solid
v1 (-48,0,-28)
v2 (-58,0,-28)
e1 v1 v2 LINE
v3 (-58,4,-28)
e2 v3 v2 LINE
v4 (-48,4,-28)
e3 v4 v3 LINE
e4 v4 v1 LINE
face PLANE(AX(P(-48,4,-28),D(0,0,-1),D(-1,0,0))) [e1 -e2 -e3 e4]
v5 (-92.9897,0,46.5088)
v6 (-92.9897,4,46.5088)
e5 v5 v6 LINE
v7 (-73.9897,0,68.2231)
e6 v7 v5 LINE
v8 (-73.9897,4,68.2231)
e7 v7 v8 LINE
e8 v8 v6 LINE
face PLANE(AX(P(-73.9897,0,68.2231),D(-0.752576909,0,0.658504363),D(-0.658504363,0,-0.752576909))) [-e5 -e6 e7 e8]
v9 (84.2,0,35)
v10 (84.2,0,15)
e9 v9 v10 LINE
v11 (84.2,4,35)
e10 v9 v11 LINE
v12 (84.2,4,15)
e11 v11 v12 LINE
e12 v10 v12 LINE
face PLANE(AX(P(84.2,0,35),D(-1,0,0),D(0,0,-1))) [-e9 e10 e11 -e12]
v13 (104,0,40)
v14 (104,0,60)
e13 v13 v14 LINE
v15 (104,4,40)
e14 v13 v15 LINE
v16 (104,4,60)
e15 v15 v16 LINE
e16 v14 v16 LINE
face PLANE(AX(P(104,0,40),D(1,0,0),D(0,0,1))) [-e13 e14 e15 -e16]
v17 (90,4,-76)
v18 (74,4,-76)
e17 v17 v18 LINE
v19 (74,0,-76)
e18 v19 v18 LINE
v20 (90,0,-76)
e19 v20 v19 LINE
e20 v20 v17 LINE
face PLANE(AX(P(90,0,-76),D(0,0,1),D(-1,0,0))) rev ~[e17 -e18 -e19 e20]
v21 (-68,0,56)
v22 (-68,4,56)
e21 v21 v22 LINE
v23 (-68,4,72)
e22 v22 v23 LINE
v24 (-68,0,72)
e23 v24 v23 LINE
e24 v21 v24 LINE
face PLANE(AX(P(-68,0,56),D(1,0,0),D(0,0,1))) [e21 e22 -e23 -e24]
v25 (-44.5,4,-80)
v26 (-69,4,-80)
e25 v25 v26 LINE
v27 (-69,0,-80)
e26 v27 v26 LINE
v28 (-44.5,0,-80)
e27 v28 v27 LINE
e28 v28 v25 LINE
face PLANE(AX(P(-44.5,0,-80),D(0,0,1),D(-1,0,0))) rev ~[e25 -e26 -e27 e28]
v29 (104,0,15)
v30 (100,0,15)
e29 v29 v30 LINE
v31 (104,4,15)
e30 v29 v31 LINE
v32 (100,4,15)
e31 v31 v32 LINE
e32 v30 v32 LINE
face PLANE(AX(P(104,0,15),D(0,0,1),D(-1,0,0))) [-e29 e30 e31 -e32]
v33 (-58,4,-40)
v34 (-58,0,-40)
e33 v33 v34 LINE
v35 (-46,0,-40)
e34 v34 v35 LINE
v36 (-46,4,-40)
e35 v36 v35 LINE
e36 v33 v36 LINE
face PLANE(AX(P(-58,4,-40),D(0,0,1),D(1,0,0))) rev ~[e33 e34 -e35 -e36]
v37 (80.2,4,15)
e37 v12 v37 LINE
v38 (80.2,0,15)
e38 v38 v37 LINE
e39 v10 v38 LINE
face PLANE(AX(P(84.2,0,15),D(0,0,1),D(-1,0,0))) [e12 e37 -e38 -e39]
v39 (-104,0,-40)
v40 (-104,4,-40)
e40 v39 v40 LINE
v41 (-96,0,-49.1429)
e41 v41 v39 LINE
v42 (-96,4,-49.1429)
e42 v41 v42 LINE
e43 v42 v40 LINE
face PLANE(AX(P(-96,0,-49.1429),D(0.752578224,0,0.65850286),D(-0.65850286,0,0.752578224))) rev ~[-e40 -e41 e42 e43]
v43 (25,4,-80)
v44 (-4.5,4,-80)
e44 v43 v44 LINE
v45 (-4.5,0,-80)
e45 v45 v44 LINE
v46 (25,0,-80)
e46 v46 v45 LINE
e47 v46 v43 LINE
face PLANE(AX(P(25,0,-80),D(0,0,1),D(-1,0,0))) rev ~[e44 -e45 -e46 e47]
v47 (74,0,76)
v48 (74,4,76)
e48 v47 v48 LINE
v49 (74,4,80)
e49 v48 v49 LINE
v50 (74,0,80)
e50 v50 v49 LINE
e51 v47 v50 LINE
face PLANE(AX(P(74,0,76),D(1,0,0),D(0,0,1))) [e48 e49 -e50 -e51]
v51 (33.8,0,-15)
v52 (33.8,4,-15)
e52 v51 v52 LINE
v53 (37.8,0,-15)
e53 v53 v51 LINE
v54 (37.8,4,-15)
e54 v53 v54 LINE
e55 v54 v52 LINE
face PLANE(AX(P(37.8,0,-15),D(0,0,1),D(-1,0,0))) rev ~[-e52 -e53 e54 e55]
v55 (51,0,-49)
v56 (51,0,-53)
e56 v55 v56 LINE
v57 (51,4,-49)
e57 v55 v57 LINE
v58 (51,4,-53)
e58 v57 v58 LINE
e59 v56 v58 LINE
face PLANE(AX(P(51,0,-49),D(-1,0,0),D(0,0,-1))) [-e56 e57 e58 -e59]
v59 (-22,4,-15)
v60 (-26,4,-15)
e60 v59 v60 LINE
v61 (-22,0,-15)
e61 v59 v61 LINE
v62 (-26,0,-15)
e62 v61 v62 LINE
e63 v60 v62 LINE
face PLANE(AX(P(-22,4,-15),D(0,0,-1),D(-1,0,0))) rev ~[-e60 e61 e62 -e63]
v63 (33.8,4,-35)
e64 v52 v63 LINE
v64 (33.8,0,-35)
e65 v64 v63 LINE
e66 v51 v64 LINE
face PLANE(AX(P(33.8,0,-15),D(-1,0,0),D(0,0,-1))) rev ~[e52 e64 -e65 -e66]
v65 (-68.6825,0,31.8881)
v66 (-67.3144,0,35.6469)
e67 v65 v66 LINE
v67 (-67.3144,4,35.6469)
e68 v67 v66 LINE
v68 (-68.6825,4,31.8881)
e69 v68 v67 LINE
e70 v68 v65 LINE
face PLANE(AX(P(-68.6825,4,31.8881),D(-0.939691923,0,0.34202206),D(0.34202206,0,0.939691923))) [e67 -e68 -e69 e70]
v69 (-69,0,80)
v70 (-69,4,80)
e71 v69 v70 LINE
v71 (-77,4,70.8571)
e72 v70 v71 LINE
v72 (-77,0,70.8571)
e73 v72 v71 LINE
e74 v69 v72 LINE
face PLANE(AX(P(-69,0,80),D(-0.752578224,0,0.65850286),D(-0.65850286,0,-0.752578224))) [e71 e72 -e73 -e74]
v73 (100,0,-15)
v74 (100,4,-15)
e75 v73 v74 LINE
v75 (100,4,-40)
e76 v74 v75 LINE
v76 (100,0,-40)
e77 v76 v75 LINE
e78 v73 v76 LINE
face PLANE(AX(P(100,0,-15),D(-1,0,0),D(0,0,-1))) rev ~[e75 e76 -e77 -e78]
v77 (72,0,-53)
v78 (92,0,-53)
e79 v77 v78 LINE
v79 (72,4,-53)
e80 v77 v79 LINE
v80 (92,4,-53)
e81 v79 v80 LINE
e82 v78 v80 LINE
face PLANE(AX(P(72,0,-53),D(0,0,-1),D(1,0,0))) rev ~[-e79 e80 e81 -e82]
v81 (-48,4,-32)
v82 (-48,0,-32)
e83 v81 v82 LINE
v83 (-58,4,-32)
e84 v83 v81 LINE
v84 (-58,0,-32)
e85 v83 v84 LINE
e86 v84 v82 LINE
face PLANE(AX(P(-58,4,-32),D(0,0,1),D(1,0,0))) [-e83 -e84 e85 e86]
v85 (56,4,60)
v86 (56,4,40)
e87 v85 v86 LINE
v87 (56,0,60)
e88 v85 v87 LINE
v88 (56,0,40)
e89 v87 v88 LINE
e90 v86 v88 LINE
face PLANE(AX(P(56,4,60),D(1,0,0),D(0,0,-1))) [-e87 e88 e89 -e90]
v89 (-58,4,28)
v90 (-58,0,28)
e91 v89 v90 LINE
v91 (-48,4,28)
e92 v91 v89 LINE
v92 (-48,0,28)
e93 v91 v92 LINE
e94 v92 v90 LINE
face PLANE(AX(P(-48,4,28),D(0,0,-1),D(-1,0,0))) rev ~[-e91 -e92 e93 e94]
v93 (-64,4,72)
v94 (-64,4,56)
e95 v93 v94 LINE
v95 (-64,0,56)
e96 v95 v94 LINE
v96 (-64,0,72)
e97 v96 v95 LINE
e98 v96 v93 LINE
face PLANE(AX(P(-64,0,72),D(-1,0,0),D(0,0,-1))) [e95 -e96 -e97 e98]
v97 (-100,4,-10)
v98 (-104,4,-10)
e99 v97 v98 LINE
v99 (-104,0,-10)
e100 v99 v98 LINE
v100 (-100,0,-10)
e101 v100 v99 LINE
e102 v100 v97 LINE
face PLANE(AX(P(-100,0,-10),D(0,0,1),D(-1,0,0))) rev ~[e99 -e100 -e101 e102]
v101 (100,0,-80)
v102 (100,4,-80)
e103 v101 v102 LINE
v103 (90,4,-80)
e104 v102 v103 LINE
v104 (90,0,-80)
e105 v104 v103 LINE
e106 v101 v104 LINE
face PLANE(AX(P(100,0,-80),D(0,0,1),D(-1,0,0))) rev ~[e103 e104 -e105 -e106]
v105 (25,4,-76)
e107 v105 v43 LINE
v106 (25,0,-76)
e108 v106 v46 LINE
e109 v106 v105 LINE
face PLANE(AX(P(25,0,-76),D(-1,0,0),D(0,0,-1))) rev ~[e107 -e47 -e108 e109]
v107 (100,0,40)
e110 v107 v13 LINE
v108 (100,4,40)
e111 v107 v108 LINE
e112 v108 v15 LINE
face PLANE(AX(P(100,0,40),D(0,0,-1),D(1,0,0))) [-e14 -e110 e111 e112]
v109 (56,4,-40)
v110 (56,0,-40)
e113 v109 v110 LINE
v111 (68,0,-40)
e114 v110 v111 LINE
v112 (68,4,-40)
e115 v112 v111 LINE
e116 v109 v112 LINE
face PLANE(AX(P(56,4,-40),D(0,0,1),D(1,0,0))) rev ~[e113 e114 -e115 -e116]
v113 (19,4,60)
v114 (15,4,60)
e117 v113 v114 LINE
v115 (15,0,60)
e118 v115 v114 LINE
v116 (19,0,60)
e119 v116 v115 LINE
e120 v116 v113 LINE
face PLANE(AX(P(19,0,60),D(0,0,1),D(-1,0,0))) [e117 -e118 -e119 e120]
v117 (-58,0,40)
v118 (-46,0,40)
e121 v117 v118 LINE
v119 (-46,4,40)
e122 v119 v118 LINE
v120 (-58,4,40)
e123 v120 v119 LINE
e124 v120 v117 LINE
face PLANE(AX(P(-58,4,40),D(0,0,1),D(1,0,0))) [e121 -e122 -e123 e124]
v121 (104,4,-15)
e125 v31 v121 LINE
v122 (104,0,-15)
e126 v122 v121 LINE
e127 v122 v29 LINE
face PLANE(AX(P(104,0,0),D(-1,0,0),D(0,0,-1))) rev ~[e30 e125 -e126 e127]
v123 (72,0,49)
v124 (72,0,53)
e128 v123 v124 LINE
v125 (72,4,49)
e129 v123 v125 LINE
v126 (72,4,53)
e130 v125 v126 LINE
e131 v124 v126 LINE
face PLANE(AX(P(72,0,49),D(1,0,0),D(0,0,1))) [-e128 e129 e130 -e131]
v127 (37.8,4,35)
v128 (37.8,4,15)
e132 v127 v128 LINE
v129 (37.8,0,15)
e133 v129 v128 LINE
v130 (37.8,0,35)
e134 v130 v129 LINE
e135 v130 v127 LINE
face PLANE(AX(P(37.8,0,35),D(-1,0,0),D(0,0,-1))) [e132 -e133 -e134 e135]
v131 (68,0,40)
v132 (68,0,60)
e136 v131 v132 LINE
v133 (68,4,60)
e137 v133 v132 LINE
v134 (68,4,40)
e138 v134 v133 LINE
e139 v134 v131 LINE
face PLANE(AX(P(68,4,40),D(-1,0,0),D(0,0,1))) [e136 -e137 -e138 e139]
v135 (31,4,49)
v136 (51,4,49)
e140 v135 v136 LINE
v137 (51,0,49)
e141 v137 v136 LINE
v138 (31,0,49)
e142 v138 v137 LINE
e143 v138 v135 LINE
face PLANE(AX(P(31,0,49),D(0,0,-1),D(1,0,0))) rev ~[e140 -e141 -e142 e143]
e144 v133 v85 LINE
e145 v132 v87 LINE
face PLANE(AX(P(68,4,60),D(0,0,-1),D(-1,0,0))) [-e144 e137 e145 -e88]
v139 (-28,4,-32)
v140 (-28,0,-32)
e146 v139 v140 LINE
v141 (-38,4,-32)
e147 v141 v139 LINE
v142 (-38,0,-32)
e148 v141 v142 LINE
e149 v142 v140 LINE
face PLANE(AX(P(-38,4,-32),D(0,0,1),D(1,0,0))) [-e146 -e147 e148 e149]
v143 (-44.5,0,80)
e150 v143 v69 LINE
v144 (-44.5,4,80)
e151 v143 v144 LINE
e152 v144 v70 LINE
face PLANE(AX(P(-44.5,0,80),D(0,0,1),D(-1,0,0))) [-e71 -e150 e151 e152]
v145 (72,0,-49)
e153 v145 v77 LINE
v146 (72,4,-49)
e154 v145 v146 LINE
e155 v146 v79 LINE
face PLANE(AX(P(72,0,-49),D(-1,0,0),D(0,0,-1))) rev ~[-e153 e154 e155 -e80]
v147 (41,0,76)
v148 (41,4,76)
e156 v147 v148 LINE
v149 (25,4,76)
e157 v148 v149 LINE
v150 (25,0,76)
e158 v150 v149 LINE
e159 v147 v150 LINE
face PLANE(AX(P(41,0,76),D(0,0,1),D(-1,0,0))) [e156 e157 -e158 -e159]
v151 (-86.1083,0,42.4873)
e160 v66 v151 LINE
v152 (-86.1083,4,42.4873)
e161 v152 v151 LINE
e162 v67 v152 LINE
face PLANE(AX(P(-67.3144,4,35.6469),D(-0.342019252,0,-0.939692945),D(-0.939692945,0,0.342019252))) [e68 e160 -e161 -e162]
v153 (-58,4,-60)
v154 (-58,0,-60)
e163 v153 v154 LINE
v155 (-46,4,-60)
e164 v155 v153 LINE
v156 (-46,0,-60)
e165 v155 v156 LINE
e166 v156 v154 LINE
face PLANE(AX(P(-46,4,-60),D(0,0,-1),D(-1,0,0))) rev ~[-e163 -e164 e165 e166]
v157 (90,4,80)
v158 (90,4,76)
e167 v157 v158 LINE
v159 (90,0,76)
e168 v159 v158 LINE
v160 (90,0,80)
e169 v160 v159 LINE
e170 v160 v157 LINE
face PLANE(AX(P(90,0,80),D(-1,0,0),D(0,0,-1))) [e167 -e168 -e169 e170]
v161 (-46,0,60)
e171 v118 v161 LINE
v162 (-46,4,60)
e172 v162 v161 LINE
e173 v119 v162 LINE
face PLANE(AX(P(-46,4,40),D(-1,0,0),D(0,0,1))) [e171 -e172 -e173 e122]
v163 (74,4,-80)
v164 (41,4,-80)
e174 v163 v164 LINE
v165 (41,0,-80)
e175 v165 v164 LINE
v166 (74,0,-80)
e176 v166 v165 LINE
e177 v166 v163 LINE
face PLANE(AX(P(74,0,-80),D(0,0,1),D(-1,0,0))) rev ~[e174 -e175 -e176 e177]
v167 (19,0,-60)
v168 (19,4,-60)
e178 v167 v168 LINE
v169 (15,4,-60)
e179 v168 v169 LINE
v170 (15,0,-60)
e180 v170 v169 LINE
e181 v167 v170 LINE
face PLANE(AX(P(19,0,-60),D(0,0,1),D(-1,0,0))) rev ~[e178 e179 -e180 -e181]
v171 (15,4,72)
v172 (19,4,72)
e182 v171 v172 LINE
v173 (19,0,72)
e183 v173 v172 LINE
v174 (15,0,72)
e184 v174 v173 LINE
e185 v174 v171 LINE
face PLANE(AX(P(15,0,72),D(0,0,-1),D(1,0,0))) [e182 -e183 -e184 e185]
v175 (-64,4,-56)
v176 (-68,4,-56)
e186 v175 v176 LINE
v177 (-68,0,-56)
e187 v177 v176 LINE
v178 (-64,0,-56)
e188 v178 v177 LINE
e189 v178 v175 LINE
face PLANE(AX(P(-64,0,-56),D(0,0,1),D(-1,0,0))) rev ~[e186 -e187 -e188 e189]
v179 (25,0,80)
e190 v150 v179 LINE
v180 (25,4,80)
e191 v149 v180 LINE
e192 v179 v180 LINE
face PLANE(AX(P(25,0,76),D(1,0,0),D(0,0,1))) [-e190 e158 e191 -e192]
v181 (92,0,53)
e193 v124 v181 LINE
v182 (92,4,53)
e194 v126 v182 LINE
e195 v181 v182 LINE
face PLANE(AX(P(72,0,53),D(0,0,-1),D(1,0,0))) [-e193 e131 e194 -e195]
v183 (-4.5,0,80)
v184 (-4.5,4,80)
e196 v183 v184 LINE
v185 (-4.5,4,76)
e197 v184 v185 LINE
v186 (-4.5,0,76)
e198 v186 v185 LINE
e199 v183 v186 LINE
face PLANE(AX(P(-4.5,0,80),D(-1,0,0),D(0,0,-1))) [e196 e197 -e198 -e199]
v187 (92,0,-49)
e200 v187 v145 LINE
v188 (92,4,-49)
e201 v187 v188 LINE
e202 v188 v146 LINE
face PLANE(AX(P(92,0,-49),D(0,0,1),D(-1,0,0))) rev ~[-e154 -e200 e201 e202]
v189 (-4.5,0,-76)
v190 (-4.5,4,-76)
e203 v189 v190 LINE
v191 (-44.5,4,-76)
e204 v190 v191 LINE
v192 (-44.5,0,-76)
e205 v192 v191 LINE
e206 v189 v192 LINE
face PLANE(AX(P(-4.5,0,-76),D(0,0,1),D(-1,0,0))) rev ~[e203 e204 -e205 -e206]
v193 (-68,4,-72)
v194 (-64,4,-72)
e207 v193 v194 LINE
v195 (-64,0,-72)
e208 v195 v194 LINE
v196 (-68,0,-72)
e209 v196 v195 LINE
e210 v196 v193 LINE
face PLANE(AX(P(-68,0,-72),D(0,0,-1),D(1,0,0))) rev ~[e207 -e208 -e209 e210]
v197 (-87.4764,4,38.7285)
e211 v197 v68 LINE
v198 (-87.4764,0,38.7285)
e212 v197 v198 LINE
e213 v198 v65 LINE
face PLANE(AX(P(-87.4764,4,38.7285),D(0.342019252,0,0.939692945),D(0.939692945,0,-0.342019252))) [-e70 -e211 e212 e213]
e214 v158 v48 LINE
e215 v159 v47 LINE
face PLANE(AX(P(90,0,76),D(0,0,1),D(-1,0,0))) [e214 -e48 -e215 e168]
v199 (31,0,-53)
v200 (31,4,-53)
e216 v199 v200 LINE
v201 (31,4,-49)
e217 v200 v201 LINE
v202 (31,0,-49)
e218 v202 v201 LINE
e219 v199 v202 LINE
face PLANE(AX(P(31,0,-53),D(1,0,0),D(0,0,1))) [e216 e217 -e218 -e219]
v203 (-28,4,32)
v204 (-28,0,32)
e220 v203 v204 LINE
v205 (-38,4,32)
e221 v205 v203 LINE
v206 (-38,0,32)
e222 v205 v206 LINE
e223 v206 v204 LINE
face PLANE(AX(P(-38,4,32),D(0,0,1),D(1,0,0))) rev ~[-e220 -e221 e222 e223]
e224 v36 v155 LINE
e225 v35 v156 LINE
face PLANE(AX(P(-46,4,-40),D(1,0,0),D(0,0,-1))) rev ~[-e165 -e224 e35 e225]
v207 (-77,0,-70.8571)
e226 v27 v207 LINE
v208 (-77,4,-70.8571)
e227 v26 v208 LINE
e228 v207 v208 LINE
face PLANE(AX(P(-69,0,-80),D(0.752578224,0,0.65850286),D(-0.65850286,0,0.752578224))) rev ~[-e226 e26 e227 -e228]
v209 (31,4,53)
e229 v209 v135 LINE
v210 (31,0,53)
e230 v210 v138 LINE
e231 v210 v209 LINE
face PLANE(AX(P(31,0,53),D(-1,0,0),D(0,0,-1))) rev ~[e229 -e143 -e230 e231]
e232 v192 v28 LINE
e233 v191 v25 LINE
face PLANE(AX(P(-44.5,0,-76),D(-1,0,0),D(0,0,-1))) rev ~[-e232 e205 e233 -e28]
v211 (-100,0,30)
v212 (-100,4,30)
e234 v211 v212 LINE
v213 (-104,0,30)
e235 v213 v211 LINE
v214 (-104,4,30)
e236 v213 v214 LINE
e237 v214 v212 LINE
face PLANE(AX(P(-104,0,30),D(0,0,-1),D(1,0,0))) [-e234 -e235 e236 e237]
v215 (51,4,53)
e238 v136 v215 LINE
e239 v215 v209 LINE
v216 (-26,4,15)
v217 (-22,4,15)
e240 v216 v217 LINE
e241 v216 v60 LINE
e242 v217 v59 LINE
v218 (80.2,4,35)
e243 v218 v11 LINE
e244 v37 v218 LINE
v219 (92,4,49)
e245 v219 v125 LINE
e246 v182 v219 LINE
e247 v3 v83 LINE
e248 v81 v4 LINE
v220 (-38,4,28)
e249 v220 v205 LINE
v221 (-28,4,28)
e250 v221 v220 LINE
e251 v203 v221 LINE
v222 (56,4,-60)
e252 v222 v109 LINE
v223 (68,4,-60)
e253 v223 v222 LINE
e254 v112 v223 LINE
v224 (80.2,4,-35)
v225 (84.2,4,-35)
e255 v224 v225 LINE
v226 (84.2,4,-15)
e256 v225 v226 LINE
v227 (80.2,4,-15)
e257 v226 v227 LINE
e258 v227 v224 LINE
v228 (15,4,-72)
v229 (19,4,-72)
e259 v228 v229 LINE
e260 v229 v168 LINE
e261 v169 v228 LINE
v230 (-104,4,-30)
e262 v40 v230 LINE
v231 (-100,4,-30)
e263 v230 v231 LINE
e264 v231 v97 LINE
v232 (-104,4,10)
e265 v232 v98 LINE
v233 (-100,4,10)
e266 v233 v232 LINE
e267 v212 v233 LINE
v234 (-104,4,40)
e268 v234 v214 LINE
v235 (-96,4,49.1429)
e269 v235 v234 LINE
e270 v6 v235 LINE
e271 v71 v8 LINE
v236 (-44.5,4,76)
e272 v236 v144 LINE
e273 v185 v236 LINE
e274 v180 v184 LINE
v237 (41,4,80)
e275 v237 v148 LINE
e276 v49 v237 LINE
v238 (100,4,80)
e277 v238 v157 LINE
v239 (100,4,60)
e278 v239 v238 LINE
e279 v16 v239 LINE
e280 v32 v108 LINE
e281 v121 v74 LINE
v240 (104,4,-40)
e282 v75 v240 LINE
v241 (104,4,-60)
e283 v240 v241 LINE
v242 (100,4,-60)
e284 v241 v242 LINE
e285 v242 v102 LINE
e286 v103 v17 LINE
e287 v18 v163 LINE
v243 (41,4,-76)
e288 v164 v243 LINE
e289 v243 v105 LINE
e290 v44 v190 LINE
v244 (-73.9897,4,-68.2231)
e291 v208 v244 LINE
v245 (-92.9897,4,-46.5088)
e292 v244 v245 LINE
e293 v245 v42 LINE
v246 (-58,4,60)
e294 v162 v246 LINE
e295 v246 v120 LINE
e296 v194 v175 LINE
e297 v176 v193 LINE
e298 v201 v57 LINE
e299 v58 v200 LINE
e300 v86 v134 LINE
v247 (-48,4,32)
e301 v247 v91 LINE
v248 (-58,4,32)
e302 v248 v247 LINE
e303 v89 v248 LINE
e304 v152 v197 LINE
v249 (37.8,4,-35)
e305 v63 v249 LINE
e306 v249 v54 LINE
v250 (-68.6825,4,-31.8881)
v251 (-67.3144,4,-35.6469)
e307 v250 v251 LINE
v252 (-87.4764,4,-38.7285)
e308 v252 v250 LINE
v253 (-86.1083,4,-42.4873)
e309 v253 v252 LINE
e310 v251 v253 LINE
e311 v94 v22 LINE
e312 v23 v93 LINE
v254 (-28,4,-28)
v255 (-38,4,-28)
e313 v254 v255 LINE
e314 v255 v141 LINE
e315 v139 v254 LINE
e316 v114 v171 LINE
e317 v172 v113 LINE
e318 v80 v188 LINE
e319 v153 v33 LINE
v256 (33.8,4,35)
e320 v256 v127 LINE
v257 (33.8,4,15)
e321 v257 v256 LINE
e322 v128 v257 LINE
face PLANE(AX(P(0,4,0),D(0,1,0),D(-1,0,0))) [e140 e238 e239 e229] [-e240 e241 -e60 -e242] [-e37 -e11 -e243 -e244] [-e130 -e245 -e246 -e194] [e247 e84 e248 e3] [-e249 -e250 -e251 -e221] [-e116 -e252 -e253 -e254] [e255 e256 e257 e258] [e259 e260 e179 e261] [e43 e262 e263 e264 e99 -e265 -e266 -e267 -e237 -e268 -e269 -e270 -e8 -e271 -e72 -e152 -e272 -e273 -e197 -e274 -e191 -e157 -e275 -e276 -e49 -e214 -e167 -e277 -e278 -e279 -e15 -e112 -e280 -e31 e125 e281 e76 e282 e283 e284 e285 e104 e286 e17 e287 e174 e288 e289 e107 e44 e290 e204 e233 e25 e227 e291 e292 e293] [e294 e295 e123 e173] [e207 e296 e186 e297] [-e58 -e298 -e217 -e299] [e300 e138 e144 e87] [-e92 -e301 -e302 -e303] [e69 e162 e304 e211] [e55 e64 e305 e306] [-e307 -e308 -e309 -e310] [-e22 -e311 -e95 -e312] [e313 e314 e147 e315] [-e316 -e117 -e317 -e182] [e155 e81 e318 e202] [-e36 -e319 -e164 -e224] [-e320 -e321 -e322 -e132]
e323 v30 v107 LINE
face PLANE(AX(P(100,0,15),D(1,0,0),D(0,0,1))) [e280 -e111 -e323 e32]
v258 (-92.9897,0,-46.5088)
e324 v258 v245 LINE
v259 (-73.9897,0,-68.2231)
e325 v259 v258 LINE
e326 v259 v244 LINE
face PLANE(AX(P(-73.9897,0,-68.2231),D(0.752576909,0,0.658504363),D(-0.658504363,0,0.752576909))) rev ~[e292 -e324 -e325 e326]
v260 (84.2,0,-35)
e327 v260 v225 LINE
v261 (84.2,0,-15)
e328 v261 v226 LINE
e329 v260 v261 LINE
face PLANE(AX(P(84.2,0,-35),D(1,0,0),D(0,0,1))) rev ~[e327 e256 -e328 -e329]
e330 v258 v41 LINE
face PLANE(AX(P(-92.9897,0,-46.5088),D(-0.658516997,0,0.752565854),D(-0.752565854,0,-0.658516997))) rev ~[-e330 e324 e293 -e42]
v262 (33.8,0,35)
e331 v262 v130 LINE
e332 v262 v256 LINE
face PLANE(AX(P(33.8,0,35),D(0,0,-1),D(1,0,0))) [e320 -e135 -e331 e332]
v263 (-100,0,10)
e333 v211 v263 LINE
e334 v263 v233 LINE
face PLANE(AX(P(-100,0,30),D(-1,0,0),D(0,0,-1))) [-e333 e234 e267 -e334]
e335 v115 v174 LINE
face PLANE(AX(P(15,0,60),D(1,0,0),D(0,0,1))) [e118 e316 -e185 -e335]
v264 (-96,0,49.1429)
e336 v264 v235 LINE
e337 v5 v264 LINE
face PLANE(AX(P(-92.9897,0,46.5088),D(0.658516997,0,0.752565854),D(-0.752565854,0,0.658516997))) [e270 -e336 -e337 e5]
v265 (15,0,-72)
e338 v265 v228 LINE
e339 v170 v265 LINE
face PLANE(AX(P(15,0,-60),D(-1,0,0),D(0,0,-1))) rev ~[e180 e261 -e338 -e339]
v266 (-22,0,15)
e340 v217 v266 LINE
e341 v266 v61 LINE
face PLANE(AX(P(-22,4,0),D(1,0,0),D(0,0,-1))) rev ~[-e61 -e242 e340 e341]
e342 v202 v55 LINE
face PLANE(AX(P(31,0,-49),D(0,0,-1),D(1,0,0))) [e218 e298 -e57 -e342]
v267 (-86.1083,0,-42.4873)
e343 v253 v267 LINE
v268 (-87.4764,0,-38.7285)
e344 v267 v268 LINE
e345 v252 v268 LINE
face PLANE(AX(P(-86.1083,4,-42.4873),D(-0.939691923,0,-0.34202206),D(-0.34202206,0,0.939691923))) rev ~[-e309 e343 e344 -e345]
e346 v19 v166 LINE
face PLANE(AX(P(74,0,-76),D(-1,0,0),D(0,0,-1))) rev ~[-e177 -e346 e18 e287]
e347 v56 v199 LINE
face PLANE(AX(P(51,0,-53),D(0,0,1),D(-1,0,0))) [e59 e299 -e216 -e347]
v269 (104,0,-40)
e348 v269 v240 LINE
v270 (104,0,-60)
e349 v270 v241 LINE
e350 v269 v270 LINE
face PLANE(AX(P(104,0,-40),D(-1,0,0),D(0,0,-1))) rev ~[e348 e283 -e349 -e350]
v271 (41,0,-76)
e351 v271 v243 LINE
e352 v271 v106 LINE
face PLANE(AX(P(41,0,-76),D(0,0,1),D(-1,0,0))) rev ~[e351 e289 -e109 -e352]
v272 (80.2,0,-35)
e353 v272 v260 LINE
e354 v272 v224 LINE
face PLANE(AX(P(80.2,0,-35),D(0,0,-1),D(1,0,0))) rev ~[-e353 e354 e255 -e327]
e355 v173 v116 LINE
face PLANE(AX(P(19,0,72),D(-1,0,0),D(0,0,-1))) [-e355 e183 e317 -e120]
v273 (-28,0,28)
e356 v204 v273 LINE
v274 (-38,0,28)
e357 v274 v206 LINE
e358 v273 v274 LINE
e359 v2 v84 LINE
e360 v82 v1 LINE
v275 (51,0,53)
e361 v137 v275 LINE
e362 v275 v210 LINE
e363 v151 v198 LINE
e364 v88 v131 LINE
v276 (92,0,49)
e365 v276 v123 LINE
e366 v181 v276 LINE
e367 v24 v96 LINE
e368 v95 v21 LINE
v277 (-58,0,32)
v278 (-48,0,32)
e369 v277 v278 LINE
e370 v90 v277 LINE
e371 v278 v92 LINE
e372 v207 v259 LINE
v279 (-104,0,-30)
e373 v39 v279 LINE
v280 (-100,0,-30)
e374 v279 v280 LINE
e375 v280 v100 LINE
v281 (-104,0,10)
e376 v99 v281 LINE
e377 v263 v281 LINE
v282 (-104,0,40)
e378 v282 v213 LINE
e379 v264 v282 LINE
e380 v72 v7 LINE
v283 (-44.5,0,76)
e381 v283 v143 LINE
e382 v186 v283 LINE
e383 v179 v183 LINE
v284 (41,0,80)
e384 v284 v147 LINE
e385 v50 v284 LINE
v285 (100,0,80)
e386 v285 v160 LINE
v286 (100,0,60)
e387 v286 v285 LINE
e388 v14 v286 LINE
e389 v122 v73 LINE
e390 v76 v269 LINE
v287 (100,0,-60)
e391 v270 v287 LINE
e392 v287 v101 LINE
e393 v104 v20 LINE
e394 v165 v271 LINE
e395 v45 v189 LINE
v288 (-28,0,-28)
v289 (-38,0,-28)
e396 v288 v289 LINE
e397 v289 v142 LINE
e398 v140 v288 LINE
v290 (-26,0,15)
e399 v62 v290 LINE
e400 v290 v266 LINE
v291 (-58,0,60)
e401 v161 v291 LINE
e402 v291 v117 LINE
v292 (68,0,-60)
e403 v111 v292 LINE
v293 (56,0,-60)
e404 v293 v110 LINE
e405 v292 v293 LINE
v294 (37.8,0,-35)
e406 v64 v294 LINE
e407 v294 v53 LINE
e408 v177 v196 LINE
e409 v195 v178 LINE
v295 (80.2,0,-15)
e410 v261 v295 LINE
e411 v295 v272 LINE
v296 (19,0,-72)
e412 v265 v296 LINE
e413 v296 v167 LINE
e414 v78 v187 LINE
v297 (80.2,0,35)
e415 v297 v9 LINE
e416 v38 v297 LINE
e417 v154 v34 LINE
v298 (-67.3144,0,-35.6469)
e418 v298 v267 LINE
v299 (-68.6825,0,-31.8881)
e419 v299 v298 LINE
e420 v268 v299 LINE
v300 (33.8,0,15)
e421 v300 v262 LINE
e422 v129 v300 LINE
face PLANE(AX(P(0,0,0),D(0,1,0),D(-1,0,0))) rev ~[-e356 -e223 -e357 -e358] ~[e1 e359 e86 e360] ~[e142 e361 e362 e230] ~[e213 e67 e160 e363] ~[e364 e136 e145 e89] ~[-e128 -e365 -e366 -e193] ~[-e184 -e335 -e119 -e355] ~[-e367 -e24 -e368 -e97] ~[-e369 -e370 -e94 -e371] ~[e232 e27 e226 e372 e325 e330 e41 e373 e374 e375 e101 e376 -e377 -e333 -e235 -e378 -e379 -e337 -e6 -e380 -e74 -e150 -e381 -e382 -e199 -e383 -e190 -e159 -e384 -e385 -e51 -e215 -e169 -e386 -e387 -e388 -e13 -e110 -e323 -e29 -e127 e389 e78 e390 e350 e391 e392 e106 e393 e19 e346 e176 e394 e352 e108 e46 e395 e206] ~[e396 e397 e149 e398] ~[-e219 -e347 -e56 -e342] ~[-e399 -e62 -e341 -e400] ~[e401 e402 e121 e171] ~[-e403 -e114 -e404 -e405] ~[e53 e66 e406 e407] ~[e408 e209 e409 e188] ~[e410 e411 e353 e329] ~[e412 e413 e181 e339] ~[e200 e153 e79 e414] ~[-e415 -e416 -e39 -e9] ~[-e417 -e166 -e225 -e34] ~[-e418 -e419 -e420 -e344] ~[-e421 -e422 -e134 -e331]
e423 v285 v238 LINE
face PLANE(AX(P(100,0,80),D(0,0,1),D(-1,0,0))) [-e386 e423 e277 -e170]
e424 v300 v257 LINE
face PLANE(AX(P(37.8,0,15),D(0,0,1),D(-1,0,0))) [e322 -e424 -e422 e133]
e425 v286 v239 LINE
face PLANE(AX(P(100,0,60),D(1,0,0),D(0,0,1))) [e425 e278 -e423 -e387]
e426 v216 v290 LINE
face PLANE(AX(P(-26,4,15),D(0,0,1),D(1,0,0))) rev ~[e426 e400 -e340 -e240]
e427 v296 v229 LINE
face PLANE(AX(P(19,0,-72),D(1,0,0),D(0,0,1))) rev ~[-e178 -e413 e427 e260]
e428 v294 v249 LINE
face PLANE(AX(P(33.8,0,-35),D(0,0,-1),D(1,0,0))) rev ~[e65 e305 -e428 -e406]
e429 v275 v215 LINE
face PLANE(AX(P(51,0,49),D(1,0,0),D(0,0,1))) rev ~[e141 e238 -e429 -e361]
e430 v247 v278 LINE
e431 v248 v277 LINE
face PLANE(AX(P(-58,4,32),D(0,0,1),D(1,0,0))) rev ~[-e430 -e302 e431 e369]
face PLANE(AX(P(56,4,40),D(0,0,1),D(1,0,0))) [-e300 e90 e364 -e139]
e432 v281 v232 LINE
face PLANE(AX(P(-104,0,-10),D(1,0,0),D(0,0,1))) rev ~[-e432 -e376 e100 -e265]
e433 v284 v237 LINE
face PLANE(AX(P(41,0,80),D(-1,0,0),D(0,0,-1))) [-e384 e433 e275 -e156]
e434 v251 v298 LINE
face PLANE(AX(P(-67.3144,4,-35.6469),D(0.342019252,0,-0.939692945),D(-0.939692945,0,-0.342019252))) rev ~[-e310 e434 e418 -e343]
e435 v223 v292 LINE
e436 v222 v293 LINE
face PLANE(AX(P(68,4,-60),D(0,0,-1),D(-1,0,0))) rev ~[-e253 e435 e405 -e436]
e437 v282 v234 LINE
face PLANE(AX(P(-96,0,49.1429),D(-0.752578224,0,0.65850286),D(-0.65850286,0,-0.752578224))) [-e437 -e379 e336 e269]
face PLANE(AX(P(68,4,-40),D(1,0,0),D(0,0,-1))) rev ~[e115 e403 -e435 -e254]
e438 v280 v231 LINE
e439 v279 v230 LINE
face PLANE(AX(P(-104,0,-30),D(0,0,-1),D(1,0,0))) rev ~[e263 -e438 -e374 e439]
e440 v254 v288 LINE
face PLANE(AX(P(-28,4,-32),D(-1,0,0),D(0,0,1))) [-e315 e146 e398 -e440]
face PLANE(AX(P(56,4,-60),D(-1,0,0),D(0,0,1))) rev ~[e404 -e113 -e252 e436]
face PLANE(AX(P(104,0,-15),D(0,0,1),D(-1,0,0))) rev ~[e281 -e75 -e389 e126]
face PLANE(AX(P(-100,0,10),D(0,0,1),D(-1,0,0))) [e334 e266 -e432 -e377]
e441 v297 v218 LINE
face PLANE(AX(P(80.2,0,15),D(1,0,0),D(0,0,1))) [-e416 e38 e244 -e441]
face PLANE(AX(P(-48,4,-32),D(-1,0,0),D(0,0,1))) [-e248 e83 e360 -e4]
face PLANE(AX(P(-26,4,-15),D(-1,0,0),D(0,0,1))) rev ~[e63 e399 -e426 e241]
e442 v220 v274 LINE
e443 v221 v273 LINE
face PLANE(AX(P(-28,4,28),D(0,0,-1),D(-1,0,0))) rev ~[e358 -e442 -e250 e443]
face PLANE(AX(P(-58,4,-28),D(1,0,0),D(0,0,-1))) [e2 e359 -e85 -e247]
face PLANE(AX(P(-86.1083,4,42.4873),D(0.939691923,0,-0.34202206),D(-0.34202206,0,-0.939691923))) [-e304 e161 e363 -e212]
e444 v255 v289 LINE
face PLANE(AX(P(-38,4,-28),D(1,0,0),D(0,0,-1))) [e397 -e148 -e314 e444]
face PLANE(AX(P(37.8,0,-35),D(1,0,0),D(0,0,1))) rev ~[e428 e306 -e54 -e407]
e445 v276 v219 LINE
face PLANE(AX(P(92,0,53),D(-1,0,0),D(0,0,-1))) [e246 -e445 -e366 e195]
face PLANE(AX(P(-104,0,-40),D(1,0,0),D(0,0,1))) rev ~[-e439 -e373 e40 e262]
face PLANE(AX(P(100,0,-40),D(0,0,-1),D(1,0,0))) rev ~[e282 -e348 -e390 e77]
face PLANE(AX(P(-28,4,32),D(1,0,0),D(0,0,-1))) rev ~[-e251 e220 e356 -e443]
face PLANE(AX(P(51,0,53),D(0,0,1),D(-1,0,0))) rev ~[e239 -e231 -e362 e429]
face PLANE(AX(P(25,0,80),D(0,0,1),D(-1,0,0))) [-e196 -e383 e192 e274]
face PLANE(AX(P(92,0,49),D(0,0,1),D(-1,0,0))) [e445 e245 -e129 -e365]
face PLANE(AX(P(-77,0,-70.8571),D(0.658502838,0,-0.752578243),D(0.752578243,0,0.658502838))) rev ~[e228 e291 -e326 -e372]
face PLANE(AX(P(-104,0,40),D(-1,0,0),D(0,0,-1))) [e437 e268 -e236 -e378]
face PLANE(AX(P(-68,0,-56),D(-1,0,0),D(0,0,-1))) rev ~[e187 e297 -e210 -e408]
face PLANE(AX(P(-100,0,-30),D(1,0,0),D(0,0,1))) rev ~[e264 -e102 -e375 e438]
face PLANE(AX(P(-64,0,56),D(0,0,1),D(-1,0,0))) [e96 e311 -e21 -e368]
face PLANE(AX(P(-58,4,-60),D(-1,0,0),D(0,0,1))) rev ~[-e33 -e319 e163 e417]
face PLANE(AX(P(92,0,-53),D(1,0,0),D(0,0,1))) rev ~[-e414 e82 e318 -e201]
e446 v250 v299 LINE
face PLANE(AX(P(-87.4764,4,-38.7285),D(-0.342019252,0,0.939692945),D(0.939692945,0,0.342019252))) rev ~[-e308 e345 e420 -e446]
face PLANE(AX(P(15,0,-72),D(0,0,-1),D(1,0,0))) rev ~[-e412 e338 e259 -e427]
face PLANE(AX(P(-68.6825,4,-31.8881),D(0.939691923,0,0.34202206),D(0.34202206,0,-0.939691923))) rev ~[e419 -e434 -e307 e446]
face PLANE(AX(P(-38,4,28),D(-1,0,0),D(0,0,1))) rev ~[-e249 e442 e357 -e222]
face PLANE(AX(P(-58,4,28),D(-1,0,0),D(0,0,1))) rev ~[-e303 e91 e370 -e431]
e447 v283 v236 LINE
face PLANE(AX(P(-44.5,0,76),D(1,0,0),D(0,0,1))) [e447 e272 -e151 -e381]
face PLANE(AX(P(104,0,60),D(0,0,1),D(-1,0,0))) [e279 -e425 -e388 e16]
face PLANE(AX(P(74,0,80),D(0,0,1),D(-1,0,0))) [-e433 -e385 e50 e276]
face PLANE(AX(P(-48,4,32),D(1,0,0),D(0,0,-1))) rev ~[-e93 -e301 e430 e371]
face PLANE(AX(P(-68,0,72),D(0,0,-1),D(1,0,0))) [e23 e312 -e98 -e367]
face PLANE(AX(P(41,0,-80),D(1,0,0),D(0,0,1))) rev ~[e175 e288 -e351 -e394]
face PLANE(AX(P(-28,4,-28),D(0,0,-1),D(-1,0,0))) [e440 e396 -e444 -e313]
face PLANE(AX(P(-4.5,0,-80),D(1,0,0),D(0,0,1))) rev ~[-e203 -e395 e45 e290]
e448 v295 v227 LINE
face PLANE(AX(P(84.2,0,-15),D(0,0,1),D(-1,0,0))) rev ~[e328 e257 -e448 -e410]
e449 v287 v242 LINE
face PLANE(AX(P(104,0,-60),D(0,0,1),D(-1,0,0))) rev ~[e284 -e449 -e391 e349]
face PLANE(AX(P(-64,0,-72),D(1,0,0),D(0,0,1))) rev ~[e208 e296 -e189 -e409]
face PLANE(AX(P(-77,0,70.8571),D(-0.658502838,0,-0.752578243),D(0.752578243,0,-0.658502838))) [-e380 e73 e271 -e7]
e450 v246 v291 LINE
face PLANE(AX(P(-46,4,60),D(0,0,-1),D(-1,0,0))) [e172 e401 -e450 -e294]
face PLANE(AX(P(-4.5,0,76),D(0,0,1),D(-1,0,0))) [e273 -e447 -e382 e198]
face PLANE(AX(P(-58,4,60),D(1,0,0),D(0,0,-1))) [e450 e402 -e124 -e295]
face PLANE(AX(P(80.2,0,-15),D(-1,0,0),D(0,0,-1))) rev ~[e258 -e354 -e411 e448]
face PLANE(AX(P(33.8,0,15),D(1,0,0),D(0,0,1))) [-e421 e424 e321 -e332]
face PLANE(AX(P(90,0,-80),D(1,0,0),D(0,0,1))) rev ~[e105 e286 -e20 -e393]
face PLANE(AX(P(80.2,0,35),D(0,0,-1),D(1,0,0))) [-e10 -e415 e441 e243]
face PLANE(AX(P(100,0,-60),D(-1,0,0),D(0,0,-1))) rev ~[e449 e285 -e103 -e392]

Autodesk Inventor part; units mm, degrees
ref_plane "YZ Plane" through (0, 0, 0) normal (1, 0, 0) x (0, 1, 0)
ref_plane "XZ Plane" through (0, 0, 0) normal (0, 1, 0) x (-1, 0, 0)
ref_plane "XY Plane" through (0, 0, 0) normal (0, 0, 1) x (1, 0, 0)
sketch "Эскиз1" plane through (0, 0, 0) normal (0, 1, 0) x (-1, 0, 0)
  line L0 (-104, 0) -> (-104, -15)
  line L1 (-104, -15) -> (-100, -15)
  line L2 (-100, -15) -> (-100, -40)
  line L3 (-100, -40) -> (-104, -40)
  line L4 (-104, -40) -> (-104, -60)
  line L5 (-104, -60) -> (-100, -60)
  line L6 (-100, -60) -> (-100, -80)
  line L7 (-100, -80) -> (-90, -80)
  line L8 (-90, -80) -> (-90, -76)
  line L9 (-90, -76) -> (-74, -76)
  line L10 (-74, -76) -> (-74, -80)
  line L11 (-74, -80) -> (-41, -80)
  line L12 (-41, -80) -> (-41, -76)
  line L13 (-41, -76) -> (-25, -76)
  line L14 (-25, -76) -> (-25, -80)
  line L15 (-25, -80) -> (4.5, -80)
  line L16 (4.5, -80) -> (4.5, -76)
  line L17 (4.5, -76) -> (44.5, -76)
  line L18 (44.5, -76) -> (44.5, -80)
  line L19 (44.5, -80) -> (69, -80)
  line L20 (69, -80) -> (77, -70.8571)
  line L21 (77, -70.8571) -> (73.9897, -68.2231)
  line L22 (73.9897, -68.2231) -> (92.9897, -46.5088)
  line L23 (92.9897, -46.5088) -> (96, -49.1429)
  line L24 (96, -49.1429) -> (104, -40)
  line L25 (104, -40) -> (104, -30)
  line L26 (104, -30) -> (100, -30)
  line L27 (100, -30) -> (100, -10)
  line L28 (100, -10) -> (104, -10)
  line L29 (104, -10) -> (104, 0)
  line L30 (104, 0) -> (-104, 0)
  line L31 (68, -72) -> (64, -72)
  line L32 (64, -72) -> (64, -56)
  line L33 (64, -56) -> (68, -56)
  line L34 (68, -56) -> (68, -72)
  line L35 (-15, -72) -> (-19, -72)
  line L36 (-19, -72) -> (-19, -60)
  line L37 (-19, -60) -> (-15, -60)
  line L38 (-15, -60) -> (-15, -72)
  line L39 (-31, -49) -> (-51, -49)
  line L40 (-51, -49) -> (-51, -53)
  line L41 (-51, -53) -> (-31, -53)
  line L42 (-31, -53) -> (-31, -49)
  line L43 (-72, -53) -> (-92, -53)
  line L44 (-92, -53) -> (-92, -49)
  line L45 (-92, -49) -> (-72, -49)
  line L46 (-72, -49) -> (-72, -53)
  line L47 (-33.8, -35) -> (-37.8, -35)
  line L48 (-37.8, -35) -> (-37.8, -15)
  line L49 (-37.8, -15) -> (-33.8, -15)
  line L50 (-33.8, -15) -> (-33.8, -35)
  line L51 (-80.2, -35) -> (-84.2, -35)
  line L52 (-84.2, -35) -> (-84.2, -15)
  line L53 (-84.2, -15) -> (-80.2, -15)
  line L54 (-80.2, -15) -> (-80.2, -35)
  line L55 (-104, 0) -> (-104, 15)
  line L56 (-104, 15) -> (-100, 15)
  line L57 (-100, 15) -> (-100, 40)
  line L58 (-100, 40) -> (-104, 40)
  line L59 (-104, 40) -> (-104, 60)
  line L60 (-104, 60) -> (-100, 60)
  line L61 (-100, 60) -> (-100, 80)
  line L62 (-100, 80) -> (-90, 80)
  line L63 (-90, 80) -> (-90, 76)
  line L64 (-90, 76) -> (-74, 76)
  line L65 (-74, 76) -> (-74, 80)
  line L66 (-74, 80) -> (-41, 80)
  line L67 (-41, 80) -> (-41, 76)
  line L68 (-41, 76) -> (-25, 76)
  line L69 (-25, 76) -> (-25, 80)
  line L70 (-25, 80) -> (4.5, 80)
  line L71 (4.5, 80) -> (4.5, 76)
  line L72 (4.5, 76) -> (44.5, 76)
  line L73 (44.5, 76) -> (44.5, 80)
  line L74 (44.5, 80) -> (69, 80)
  line L75 (69, 80) -> (77, 70.8571)
  line L76 (77, 70.8571) -> (73.9897, 68.2231)
  line L77 (73.9897, 68.2231) -> (92.9897, 46.5088)
  line L78 (92.9897, 46.5088) -> (96, 49.1429)
  line L79 (96, 49.1429) -> (104, 40)
  line L80 (104, 40) -> (104, 30)
  line L81 (104, 30) -> (100, 30)
  line L82 (100, 30) -> (100, 10)
  line L83 (100, 10) -> (104, 10)
  line L84 (104, 10) -> (104, 0)
  line L85 (68, 72) -> (64, 72)
  line L86 (64, 72) -> (64, 56)
  line L87 (64, 56) -> (68, 56)
  line L88 (68, 56) -> (68, 72)
  line L89 (-15, 72) -> (-19, 72)
  line L90 (-19, 72) -> (-19, 60)
  line L91 (-19, 60) -> (-15, 60)
  line L92 (-15, 60) -> (-15, 72)
  line L93 (-31, 49) -> (-51, 49)
  line L94 (-51, 49) -> (-51, 53)
  line L95 (-51, 53) -> (-31, 53)
  line L96 (-31, 53) -> (-31, 49)
  line L97 (-72, 53) -> (-92, 53)
  line L98 (-92, 53) -> (-92, 49)
  line L99 (-92, 49) -> (-72, 49)
  line L100 (-72, 49) -> (-72, 53)
  line L101 (-33.8, 35) -> (-37.8, 35)
  line L102 (-37.8, 35) -> (-37.8, 15)
  line L103 (-37.8, 15) -> (-33.8, 15)
  line L104 (-33.8, 15) -> (-33.8, 35)
  line L105 (-80.2, 35) -> (-84.2, 35)
  line L106 (-84.2, 35) -> (-84.2, 15)
  line L107 (-84.2, 15) -> (-80.2, 15)
  line L108 (-80.2, 15) -> (-80.2, 35)
  point P0 (0, 0)
  point P1 (0, 0)
  dimension "d0" = 25
  dimension "d1" = 20
  dimension "d2" = 20
  dimension "d3" = 15
  dimension "d4" = 10
  dimension "d5" = 16
  dimension "d6" = 16
  dimension "d7" = 33
  dimension "d8" = 29.5
  dimension "d9" = 40
  dimension "d10" = 24.5
  dimension "d11" = 20
  dimension "d12" = 10
  dimension "d13" = 40
  dimension "d14" = 35
  dimension "d15" = 4
  dimension "d16" = 8
  dimension "d17" = 8
  dimension "d18" = 1
  dimension "d19" = 16
  dimension "d20" = 8
  dimension "d21" = 8
  dimension "d22" = 12
  dimension "d23" = 6
  dimension "d24" = 20
  dimension "d25" = 21
  dimension "d26" = 12
  dimension "d27" = 27
  dimension "d28" = 14
  dimension "d29" = 20
  dimension "d30" = 2.8
  dimension "d31" = 42.4
extrude "Выдавливание1" add sketch "Эскиз1" along normal blind 4
sketch "Эскиз2" plane through (0, 4, 0) normal (0, 1, 0) x (1, 0, 0)
  line L0 (-58, -32) -> (-48, -32)
  line L1 (-48, -32) -> (-48, -28)
  line L2 (-48, -28) -> (-58, -28)
  line L3 (-58, -28) -> (-58, -32)
  line L4 (-67.3144, -35.6469) -> (-86.1083, -42.4873)
  line L5 (-86.1083, -42.4873) -> (-87.4764, -38.7285)
  line L6 (-87.4764, -38.7285) -> (-68.6825, -31.8881)
  line L7 (-68.6825, -31.8881) -> (-67.3144, -35.6469)
  line L8 (-104, 10) -> (-104, -10) projected
  line L9 (-104, 0) -> (104, 0)
  line L10 (104, -15) -> (104, 15) projected
  line L11 (-58, 32) -> (-48, 32)
  line L12 (-48, 32) -> (-48, 28)
  line L13 (-48, 28) -> (-58, 28)
  line L14 (-58, 28) -> (-58, 32)
  line L15 (-67.3144, 35.6469) -> (-86.1083, 42.4873)
  line L16 (-86.1083, 42.4873) -> (-87.4764, 38.7285)
  line L17 (-87.4764, 38.7285) -> (-68.6825, 31.8881)
  line L18 (-68.6825, 31.8881) -> (-67.3144, 35.6469)
  line L19 (-38, -32) -> (-28, -32)
  line L20 (-28, -32) -> (-28, -28)
  line L21 (-28, -28) -> (-38, -28)
  line L22 (-38, -28) -> (-38, -32)
  line L23 (-38, 32) -> (-28, 32)
  line L24 (-28, 32) -> (-28, 28)
  line L25 (-28, 28) -> (-38, 28)
  line L26 (-38, 28) -> (-38, 32)
  line L27 (68, -60) -> (56, -60)
  line L28 (56, -60) -> (56, -40)
  line L29 (56, -40) -> (68, -40)
  line L30 (68, -40) -> (68, -60)
  line L31 (51, -49) -> (51, -53) projected
  line L32 (41, -80) -> (74, -80) projected
  line L33 (68, 60) -> (56, 60)
  line L34 (56, 60) -> (56, 40)
  line L35 (56, 40) -> (68, 40)
  line L36 (68, 40) -> (68, 60)
  line L37 (-46, -60) -> (-58, -60)
  line L38 (-58, -60) -> (-58, -40)
  line L39 (-58, -40) -> (-46, -40)
  line L40 (-46, -40) -> (-46, -60)
  line L41 (-64, -56) -> (-64, -72) projected
  line L42 (-46, 60) -> (-58, 60)
  line L43 (-58, 60) -> (-58, 40)
  line L44 (-58, 40) -> (-46, 40)
  line L45 (-46, 40) -> (-46, 60)
  line L46 (-26, -15) -> (-22, -15)
  line L47 (-22, -15) -> (-22, 15)
  line L48 (-22, 15) -> (-26, 15)
  line L49 (-26, 15) -> (-26, -15)
  point P0 (0, 0)
  dimension "d34" = 20
  dimension "d35" = 56
  dimension "d36" = 4
  dimension "d39" = 10
  dimension "d40" = 20
  dimension "d42" = 10
  dimension "d48" = 10
  dimension "d49" = 10
  dimension "d51" = 12
  dimension "d52" = 20
  dimension "d53" = 5
  dimension "d54" = 20
  dimension "d55" = 12
  dimension "d56" = 6
  dimension "d57" = 30
  dimension "d58" = 2
extrude "Выдавливание2" cut sketch "Эскиз2" against normal through all
properties part number "topCase" material "Дерево (вишня)"
